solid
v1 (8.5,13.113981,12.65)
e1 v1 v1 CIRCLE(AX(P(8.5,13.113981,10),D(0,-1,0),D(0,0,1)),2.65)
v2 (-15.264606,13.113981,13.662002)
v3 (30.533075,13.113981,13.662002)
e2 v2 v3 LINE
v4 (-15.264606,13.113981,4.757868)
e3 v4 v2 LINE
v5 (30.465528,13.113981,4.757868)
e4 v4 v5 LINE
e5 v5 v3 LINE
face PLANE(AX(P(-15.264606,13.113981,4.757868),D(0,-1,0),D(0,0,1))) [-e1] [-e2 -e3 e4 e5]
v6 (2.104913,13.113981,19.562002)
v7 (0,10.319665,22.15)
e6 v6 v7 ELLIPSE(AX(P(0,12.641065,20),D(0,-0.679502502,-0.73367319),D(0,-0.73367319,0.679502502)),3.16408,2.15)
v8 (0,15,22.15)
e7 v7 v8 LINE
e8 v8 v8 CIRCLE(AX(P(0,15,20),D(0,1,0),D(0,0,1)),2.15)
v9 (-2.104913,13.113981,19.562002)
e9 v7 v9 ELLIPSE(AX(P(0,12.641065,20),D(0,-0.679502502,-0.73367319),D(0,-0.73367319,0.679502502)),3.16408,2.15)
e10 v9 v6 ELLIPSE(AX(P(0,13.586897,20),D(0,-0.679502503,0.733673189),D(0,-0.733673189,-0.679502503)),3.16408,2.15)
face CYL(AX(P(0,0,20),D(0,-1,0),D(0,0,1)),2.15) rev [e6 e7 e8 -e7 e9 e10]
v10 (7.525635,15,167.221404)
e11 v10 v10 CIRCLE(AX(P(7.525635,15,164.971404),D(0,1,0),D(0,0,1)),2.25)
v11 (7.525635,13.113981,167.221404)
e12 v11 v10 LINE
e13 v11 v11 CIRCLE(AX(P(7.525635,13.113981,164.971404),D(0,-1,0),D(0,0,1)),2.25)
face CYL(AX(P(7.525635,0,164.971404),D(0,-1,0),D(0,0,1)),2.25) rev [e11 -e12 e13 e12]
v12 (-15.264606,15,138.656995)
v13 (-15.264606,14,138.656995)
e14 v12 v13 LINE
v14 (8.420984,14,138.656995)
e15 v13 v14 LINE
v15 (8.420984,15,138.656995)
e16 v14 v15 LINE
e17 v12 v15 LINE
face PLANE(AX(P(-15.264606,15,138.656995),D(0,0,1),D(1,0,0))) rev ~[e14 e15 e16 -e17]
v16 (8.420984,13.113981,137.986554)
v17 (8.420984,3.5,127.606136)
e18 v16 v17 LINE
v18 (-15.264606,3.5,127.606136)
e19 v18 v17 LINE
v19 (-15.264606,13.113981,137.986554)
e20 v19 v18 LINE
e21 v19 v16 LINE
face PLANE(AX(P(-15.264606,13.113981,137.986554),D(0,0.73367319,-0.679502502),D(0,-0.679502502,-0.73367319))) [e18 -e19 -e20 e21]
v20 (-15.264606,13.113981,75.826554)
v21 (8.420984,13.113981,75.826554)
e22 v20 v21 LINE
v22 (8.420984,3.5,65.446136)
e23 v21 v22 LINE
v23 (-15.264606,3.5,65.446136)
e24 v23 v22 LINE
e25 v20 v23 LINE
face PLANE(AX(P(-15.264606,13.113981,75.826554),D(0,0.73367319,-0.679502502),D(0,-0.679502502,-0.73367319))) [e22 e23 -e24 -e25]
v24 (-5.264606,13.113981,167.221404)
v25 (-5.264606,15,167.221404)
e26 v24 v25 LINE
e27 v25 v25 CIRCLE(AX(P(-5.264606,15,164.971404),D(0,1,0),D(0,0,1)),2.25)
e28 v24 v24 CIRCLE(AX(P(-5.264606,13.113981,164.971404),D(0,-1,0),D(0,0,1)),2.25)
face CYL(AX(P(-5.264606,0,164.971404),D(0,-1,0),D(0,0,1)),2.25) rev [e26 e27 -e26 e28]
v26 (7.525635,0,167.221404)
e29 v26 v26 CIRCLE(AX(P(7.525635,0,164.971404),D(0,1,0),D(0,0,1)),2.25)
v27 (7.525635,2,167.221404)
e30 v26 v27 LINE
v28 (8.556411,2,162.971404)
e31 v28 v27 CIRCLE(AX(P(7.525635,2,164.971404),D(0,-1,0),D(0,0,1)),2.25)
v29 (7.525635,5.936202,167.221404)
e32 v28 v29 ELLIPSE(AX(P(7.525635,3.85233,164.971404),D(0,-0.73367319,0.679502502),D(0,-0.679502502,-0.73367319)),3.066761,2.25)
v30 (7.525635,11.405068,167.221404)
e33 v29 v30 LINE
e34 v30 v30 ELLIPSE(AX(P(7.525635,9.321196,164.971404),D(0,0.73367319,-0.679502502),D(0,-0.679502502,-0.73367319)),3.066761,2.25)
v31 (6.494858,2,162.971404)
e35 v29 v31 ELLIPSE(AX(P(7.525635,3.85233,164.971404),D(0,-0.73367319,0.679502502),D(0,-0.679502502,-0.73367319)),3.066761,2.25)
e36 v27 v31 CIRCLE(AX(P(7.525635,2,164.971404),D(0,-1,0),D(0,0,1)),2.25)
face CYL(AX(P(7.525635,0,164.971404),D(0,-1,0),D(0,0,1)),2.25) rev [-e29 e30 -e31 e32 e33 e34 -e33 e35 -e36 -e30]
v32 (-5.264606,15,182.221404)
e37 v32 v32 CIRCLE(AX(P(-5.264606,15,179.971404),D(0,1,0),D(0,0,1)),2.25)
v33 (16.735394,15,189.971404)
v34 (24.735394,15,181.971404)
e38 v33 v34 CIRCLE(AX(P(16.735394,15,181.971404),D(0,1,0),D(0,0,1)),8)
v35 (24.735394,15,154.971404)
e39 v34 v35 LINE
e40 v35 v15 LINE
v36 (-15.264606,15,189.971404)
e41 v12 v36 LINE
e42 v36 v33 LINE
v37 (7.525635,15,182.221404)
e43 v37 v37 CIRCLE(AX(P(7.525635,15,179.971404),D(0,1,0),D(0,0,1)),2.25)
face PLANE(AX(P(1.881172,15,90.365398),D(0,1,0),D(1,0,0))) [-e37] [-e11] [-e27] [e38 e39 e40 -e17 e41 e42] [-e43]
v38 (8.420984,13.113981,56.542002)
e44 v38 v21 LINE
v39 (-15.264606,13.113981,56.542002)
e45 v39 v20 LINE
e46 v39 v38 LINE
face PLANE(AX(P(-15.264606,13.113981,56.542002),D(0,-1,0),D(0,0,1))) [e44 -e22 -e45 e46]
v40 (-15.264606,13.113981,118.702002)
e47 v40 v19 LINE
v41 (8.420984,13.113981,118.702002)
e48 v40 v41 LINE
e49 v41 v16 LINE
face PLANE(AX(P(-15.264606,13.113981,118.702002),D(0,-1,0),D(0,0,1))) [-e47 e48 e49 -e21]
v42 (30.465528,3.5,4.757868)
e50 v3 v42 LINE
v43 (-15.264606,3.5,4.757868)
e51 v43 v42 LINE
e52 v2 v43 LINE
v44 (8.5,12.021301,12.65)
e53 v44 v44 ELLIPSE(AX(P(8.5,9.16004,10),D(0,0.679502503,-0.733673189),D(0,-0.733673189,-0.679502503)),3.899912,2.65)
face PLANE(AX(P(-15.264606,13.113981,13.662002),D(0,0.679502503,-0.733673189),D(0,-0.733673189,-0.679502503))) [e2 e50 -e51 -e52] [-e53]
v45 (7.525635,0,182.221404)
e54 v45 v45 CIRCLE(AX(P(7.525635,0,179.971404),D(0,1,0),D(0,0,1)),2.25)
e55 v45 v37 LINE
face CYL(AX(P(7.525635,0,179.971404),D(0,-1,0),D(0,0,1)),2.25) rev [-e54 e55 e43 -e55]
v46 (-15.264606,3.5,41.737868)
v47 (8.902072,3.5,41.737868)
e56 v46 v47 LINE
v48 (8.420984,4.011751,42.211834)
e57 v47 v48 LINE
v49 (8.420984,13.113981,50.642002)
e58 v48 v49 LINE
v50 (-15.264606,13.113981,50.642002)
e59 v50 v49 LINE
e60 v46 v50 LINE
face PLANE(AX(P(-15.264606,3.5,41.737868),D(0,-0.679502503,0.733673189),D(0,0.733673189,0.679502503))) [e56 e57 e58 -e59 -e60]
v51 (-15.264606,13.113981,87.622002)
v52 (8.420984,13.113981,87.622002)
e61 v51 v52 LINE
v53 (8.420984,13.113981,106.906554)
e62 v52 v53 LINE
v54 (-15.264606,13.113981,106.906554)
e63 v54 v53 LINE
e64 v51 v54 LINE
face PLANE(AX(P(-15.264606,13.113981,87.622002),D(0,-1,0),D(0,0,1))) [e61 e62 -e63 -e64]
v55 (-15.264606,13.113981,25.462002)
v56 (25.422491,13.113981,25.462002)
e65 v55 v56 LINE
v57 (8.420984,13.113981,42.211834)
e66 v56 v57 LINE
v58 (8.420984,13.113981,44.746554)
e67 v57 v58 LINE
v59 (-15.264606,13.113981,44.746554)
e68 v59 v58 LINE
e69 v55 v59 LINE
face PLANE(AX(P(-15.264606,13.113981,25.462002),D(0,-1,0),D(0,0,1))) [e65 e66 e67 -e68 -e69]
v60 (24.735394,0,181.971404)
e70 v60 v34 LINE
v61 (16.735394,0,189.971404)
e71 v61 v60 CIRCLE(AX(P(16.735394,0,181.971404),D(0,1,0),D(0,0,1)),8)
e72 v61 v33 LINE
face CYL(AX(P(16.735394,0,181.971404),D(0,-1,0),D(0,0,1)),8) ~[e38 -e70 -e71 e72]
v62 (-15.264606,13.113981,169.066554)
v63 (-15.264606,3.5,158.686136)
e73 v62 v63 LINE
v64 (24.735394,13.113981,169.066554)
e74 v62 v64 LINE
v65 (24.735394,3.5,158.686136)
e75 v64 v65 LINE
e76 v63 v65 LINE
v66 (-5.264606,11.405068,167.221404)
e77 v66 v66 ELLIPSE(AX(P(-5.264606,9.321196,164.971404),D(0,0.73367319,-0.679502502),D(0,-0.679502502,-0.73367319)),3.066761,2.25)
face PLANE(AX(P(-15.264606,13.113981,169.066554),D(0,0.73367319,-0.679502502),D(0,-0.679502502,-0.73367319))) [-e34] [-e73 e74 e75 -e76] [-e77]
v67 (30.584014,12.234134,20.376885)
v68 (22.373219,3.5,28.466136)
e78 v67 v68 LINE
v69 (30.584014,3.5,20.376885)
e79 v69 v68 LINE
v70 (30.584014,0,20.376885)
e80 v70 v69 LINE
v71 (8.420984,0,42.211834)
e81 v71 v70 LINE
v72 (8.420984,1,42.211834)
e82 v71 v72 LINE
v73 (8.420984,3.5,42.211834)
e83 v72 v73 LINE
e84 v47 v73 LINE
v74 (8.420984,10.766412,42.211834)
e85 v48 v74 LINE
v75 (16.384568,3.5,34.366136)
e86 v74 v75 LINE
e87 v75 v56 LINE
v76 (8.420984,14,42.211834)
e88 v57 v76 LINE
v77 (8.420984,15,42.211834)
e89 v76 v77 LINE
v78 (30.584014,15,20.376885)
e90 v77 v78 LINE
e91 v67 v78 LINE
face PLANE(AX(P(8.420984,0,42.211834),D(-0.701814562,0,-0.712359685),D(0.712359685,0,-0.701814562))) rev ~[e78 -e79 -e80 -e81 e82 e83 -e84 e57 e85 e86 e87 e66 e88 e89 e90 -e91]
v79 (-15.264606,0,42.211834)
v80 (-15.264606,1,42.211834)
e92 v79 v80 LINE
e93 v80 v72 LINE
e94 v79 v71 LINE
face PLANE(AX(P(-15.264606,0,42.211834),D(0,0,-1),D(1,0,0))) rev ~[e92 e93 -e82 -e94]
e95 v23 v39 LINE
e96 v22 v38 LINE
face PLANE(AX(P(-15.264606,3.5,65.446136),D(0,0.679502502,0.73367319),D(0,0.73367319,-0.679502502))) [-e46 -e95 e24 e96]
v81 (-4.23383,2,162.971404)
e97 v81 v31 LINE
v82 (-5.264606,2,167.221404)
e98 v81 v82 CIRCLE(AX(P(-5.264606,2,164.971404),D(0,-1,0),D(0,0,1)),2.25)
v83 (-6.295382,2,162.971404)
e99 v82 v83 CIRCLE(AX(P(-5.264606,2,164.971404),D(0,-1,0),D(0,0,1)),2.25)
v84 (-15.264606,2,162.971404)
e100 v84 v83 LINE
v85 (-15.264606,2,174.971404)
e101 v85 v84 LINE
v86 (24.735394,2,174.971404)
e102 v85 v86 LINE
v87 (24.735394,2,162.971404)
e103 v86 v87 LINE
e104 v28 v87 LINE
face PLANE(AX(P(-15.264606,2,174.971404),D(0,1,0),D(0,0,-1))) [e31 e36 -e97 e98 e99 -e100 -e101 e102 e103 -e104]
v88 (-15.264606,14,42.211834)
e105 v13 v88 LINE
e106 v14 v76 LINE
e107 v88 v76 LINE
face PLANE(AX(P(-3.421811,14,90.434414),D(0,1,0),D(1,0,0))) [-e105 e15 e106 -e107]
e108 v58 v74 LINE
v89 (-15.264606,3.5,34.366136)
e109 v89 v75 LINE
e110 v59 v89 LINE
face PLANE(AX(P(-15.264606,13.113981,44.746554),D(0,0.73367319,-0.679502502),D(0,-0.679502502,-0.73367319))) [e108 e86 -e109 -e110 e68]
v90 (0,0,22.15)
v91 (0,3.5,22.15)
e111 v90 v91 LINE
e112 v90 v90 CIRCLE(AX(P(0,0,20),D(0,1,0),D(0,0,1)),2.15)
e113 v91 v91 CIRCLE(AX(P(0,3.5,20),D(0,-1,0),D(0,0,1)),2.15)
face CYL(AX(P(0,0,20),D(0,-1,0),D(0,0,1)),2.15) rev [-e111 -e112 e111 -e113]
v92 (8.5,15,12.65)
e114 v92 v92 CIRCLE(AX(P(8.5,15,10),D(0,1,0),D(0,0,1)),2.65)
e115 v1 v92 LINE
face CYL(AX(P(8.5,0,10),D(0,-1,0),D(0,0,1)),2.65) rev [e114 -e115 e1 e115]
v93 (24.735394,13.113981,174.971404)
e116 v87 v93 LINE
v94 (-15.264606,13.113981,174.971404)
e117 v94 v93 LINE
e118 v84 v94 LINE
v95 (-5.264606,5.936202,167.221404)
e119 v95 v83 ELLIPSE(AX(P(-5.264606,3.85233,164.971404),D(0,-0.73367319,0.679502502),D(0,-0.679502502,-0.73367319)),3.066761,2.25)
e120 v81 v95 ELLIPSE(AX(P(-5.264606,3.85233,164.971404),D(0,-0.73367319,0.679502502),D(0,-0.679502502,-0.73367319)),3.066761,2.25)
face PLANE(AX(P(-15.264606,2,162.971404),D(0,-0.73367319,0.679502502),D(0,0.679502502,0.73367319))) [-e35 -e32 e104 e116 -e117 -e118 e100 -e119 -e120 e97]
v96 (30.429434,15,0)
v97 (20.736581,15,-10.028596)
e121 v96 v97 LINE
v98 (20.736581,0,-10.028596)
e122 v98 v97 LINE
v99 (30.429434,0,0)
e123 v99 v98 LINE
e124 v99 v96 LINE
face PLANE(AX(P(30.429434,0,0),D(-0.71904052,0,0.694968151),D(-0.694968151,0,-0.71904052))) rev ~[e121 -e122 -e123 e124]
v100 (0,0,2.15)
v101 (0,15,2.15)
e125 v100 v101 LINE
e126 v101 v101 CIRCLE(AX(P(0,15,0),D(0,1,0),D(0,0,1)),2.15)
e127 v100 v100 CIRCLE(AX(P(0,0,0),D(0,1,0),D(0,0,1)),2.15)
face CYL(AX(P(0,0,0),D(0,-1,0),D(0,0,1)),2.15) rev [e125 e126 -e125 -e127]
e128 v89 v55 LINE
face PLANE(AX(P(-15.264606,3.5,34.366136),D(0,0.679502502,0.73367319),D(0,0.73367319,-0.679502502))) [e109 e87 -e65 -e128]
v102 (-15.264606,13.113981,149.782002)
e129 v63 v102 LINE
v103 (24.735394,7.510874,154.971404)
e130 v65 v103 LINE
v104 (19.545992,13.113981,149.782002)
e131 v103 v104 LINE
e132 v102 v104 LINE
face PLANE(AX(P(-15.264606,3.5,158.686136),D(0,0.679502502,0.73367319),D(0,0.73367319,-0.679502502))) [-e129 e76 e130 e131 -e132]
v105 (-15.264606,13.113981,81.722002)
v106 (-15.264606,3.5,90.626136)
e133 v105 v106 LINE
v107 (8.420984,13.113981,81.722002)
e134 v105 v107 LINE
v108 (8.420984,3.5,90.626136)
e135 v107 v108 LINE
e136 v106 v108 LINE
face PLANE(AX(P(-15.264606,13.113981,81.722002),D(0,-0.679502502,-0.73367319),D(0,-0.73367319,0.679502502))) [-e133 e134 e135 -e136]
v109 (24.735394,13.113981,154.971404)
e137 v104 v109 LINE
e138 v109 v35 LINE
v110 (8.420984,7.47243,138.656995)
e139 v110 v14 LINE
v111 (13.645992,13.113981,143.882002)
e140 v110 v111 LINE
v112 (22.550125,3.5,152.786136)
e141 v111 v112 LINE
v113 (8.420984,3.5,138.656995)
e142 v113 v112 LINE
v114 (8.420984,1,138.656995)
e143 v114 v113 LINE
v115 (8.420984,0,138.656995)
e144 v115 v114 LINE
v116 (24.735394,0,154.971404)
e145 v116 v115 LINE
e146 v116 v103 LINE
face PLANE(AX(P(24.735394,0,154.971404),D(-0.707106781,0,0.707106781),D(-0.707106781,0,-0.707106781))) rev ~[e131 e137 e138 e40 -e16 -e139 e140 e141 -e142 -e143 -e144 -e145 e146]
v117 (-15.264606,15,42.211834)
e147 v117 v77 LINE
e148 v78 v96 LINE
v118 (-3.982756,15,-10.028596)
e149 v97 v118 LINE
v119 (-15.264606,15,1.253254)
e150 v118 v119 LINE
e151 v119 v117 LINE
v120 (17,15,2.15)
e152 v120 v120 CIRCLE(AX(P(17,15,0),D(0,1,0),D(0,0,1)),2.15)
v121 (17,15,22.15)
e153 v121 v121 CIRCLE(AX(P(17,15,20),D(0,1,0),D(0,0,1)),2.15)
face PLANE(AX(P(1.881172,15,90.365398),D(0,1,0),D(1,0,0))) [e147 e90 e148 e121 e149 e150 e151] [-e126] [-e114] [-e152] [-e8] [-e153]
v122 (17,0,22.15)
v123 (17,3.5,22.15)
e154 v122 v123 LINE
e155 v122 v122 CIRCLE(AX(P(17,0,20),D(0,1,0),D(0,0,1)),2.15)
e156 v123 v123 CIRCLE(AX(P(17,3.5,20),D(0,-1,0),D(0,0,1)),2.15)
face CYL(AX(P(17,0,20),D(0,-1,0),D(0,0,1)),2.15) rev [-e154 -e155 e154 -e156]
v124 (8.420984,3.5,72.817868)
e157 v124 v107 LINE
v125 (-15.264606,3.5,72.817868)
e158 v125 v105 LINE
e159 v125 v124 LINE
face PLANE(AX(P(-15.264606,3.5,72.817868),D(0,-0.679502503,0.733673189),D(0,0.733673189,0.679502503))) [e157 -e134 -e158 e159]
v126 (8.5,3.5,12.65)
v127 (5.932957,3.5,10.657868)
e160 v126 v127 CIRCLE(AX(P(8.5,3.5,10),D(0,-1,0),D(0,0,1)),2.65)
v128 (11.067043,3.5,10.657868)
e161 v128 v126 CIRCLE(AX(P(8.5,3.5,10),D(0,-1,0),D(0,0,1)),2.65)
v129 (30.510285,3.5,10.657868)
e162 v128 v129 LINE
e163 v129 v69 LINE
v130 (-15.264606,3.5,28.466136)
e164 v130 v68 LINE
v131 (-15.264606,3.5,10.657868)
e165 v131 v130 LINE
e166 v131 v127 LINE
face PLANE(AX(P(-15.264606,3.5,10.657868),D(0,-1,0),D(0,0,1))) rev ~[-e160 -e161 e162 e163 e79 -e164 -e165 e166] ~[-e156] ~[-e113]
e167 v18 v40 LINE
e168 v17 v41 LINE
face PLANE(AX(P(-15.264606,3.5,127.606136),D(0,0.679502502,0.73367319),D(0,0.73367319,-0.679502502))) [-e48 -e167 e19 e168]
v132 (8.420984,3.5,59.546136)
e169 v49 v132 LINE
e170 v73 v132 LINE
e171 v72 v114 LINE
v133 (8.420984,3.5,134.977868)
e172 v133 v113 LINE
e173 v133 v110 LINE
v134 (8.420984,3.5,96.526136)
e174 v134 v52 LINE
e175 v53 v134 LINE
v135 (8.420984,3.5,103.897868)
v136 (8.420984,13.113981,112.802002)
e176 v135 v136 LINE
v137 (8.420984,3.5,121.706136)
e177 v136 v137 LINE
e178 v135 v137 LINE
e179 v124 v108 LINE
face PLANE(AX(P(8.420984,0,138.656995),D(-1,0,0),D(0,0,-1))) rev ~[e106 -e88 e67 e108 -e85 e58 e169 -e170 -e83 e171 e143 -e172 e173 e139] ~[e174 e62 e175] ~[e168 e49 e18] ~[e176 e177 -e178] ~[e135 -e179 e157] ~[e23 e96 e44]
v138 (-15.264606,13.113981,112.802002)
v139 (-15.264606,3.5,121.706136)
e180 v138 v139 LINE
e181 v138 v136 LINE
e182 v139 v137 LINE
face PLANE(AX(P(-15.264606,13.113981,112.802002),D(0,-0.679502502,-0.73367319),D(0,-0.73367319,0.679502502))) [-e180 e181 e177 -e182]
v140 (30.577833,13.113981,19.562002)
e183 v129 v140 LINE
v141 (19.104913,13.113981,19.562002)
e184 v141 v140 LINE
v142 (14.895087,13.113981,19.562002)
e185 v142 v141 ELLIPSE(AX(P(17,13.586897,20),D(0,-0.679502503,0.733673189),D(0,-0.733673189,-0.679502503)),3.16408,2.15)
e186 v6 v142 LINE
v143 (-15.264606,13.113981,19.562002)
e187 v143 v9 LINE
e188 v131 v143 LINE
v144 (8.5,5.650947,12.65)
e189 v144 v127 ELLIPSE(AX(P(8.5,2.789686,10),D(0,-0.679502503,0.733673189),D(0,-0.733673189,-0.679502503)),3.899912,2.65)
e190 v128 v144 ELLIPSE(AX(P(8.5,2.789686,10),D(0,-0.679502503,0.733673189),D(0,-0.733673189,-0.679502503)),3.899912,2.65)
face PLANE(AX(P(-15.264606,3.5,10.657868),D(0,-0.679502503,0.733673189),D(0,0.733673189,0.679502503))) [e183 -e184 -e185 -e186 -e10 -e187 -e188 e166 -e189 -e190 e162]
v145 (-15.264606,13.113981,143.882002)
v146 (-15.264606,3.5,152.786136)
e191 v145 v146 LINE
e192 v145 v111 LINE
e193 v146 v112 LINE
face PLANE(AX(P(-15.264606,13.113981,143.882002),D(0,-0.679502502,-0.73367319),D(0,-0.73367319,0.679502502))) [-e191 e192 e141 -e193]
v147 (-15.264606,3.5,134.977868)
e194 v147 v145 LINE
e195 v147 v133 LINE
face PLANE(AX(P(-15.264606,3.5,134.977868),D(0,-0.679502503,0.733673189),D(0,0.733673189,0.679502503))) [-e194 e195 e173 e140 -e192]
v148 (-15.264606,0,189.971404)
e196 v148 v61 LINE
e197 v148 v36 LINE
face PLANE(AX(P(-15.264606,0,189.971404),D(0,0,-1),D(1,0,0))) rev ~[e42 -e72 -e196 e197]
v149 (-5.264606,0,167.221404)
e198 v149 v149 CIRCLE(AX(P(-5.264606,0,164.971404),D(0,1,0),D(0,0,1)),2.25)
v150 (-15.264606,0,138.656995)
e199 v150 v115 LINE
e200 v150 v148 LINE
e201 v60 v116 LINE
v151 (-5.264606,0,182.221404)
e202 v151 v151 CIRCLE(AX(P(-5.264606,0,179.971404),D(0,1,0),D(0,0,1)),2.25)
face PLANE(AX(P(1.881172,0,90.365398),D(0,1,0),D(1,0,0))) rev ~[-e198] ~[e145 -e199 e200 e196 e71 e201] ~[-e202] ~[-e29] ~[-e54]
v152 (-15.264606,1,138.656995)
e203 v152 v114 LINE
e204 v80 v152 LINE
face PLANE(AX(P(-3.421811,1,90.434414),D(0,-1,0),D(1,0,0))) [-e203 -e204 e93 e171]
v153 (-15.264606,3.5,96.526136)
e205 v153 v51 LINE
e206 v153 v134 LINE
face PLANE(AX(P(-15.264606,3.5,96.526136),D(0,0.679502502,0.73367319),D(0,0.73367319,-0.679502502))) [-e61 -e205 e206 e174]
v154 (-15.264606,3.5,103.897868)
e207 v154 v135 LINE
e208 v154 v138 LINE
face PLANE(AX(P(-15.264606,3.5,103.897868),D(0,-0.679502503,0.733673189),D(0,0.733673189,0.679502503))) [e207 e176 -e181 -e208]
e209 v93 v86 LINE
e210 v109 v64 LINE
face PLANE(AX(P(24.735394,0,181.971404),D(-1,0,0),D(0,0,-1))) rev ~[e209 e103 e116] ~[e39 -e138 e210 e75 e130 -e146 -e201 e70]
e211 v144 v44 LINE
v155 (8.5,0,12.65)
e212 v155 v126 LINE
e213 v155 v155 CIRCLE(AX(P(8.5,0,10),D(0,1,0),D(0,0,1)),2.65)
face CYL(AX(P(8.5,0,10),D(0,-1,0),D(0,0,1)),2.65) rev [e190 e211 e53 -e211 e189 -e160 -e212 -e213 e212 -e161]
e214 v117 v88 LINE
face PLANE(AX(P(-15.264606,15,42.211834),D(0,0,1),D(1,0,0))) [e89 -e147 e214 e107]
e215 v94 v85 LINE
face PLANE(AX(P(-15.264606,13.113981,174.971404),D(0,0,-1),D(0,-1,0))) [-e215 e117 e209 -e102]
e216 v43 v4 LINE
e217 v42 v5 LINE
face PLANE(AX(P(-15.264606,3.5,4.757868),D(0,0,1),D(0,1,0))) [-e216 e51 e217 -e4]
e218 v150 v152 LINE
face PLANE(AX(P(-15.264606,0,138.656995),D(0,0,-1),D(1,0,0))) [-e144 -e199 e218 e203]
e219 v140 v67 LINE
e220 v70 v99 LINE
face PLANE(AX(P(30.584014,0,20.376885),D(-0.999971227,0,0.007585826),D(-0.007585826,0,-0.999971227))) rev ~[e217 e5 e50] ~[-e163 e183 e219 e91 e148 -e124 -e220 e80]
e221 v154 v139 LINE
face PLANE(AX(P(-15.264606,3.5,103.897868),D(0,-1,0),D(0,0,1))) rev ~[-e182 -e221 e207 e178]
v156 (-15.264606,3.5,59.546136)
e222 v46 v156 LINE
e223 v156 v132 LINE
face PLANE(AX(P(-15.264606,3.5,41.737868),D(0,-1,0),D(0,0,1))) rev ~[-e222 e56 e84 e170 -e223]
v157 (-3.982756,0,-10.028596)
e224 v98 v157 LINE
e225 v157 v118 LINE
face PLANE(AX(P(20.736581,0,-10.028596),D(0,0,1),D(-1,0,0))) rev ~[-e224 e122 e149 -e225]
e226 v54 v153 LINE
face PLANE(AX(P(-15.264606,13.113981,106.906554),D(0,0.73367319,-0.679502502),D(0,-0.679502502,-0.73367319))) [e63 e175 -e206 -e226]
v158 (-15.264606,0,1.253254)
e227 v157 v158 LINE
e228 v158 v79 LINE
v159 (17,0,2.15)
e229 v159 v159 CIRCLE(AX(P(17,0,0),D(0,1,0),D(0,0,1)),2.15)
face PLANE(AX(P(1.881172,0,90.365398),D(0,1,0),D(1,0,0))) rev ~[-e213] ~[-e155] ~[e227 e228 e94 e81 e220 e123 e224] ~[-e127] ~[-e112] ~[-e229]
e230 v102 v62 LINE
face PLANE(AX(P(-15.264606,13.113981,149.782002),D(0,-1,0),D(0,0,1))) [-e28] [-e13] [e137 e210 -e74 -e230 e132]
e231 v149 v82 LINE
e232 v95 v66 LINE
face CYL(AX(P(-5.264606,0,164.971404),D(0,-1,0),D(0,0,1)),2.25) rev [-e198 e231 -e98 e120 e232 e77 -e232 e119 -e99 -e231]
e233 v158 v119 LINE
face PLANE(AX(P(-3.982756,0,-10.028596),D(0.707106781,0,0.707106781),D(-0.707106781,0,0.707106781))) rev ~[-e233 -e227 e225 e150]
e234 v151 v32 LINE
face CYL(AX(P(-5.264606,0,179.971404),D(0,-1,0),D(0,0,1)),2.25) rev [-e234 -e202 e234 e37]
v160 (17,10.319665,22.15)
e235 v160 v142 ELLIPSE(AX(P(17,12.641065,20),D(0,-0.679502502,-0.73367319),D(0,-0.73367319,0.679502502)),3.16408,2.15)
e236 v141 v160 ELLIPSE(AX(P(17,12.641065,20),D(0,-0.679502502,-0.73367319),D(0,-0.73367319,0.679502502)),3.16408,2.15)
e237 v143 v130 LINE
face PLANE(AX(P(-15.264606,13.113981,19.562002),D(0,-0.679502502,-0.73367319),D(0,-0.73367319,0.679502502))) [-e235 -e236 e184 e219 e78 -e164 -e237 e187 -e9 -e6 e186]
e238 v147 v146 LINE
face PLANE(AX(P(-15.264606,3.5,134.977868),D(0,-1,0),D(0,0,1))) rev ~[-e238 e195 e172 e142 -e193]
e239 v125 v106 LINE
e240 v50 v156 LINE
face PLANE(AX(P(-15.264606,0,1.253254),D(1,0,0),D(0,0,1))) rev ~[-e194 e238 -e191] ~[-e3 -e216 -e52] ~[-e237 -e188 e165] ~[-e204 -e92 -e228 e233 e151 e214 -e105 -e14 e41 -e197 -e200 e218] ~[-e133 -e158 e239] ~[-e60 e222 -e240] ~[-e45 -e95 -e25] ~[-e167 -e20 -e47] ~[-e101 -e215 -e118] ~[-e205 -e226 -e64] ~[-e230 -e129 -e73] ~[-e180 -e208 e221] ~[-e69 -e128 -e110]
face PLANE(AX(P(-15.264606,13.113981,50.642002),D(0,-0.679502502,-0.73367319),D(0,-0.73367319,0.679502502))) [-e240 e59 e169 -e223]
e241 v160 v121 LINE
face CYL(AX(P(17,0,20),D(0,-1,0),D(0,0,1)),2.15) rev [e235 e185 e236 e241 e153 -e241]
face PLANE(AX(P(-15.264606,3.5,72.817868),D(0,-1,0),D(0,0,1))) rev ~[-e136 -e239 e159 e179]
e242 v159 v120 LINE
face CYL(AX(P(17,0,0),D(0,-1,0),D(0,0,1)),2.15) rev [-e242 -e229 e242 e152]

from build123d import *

# Parameters (mm, degrees)
SKETCH1_R           = 2.25
SKETCH1_R_2         = 2.65
SKETCH1_R_3         = 2.15
BOSS_EXTRUDE1_DEPTH = 15
CUT_EXTRUDE2_DEPTH  = 46
SKETCH3_W           = 23.685590182
SKETCH3_H           = 96.44516038
CUT_EXTRUDE4_DEPTH  = 1
SKETCH4_W           = 23.685590182
SKETCH4_H           = 96.44516038
CUT_EXTRUDE5_DEPTH  = 1


with BuildPart() as part:
    # Sketch1 → Boss-Extrude1 (new body)
    with BuildSketch(Plane(origin=(0, 0, 0), x_dir=(1, 0, 0), z_dir=(0, 1, 0))):
        with BuildLine():
            Line((-15.264606027, -1.25325428), (-15.264606027, -189.971404395))
            Line((-15.264606027, -189.971404395), (16.735393973, -189.971404395))
            ThreePointArc((16.735393973, -189.971404395), (22.392248222, -187.628258644), (24.735393973, -181.971404395))
            Line((24.735393973, -181.971404395), (24.735393973, -154.971404395))
            Line((24.735393973, -154.971404395), (8.420984155, -138.656994577))
            Line((8.420984155, -138.656994577), (8.420984155, -42.211834197))
            Line((8.420984155, -42.211834197), (30.584014254, -20.376885374))
            Line((30.584014254, -20.376885374), (30.429434292, 0))
            Line((30.429434292, 0), (20.736580617, 10.028595605))
            Line((20.736580617, 10.028595605), (-3.982756142, 10.028595605))
            Line((-3.982756142, 10.028595605), (-15.264606027, -1.25325428))
        make_face()
        with Locations(Location((-5.264606027, -179.971404395, 0), (0, 0, 270))):
            Circle(SKETCH1_R, mode=Mode.SUBTRACT)
        with Locations(Location((7.525634834, -179.971404395, 0), (0, 0, 270))):
            Circle(SKETCH1_R, mode=Mode.SUBTRACT)
        with Locations(Location((-5.264606027, -164.971404395, 0), (0, 0, 270))):
            Circle(SKETCH1_R, mode=Mode.SUBTRACT)
        with Locations(Location((7.525634834, -164.971404395, 0), (0, 0, 270))):
            Circle(SKETCH1_R, mode=Mode.SUBTRACT)
        with Locations(Location((8.5, -10, 0), (0, 0, 270))):
            Circle(SKETCH1_R_2, mode=Mode.SUBTRACT)
        with Locations(Location((0, 0, 0), (0, 0, 270))):
            Circle(SKETCH1_R_3, mode=Mode.SUBTRACT)
        with Locations(Location((17, 0, 0), (0, 0, 270))):
            Circle(SKETCH1_R_3, mode=Mode.SUBTRACT)
        with Locations(Location((0, -20, 0), (0, 0, 270))):
            Circle(SKETCH1_R_3, mode=Mode.SUBTRACT)
        with Locations(Location((17, -20, 0), (0, 0, 270))):
            Circle(SKETCH1_R_3, mode=Mode.SUBTRACT)
    extrude(amount=BOSS_EXTRUDE1_DEPTH)

    # Sketch2 → Cut-Extrude2 (cut)
    with BuildSketch(Plane.ZY.offset(15.264606027)):
        Polygon((174.971404395, 13.113981192), (174.971404395, 2), (162.971404395, 2), align=None)
        Polygon((149.78200197, 13.113981192), (169.066554165, 13.113981192), (158.686135815, 3.5), align=None)
        Polygon((4.75786812, 3.5), (4.75786812, 13.113981192), (13.66200197, 13.113981192), align=None)
        Polygon((143.88200197, 13.113981192), (152.786135815, 3.5), (143.88200197, 3.5), (134.97786812, 3.5), align=None)
        Polygon((112.80200197, 13.113981192), (121.706135815, 3.5), (112.80200197, 3.5), (103.89786812, 3.5), align=None)
        Polygon((81.72200197, 13.113981192), (90.626135815, 3.5), (81.72200197, 3.5), (72.81786812, 3.5), align=None)
        Polygon((50.64200197, 13.113981192), (59.546135815, 3.5), (50.64200197, 3.5), (41.73786812, 3.5), align=None)
        Polygon((19.56200197, 13.113981192), (28.466135815, 3.5), (19.56200197, 3.5), (10.65786812, 3.5), align=None)
        Polygon((137.986554165, 13.113981192), (127.606135815, 3.5), (118.70200197, 13.113981192), align=None)
        Polygon((106.906554165, 13.113981192), (96.526135815, 3.5), (87.62200197, 13.113981192), align=None)
        Polygon((75.826554165, 13.113981192), (65.446135815, 3.5), (56.54200197, 13.113981192), align=None)
        Polygon((44.746554165, 13.113981192), (34.366135815, 3.5), (25.46200197, 13.113981192), align=None)
    extrude(amount=-CUT_EXTRUDE2_DEPTH, mode=Mode.SUBTRACT)

    # Sketch3 → Cut-Extrude4 (cut)
    with BuildSketch(Plane.XZ):
        with Locations((-3.421810936, 90.434414387)):
            Rectangle(SKETCH3_W, SKETCH3_H)
    extrude(amount=-CUT_EXTRUDE4_DEPTH, mode=Mode.SUBTRACT)

    # Sketch4 → Cut-Extrude5 (cut)
    with BuildSketch(Plane(origin=(0, 15, 0), x_dir=(1, 0, 0), z_dir=(0, 1, 0))):
        with Locations((-3.421810936, -90.434414387)):
            Rectangle(SKETCH4_W, SKETCH4_H)
    extrude(amount=-CUT_EXTRUDE5_DEPTH, mode=Mode.SUBTRACT)


solid = part.part
